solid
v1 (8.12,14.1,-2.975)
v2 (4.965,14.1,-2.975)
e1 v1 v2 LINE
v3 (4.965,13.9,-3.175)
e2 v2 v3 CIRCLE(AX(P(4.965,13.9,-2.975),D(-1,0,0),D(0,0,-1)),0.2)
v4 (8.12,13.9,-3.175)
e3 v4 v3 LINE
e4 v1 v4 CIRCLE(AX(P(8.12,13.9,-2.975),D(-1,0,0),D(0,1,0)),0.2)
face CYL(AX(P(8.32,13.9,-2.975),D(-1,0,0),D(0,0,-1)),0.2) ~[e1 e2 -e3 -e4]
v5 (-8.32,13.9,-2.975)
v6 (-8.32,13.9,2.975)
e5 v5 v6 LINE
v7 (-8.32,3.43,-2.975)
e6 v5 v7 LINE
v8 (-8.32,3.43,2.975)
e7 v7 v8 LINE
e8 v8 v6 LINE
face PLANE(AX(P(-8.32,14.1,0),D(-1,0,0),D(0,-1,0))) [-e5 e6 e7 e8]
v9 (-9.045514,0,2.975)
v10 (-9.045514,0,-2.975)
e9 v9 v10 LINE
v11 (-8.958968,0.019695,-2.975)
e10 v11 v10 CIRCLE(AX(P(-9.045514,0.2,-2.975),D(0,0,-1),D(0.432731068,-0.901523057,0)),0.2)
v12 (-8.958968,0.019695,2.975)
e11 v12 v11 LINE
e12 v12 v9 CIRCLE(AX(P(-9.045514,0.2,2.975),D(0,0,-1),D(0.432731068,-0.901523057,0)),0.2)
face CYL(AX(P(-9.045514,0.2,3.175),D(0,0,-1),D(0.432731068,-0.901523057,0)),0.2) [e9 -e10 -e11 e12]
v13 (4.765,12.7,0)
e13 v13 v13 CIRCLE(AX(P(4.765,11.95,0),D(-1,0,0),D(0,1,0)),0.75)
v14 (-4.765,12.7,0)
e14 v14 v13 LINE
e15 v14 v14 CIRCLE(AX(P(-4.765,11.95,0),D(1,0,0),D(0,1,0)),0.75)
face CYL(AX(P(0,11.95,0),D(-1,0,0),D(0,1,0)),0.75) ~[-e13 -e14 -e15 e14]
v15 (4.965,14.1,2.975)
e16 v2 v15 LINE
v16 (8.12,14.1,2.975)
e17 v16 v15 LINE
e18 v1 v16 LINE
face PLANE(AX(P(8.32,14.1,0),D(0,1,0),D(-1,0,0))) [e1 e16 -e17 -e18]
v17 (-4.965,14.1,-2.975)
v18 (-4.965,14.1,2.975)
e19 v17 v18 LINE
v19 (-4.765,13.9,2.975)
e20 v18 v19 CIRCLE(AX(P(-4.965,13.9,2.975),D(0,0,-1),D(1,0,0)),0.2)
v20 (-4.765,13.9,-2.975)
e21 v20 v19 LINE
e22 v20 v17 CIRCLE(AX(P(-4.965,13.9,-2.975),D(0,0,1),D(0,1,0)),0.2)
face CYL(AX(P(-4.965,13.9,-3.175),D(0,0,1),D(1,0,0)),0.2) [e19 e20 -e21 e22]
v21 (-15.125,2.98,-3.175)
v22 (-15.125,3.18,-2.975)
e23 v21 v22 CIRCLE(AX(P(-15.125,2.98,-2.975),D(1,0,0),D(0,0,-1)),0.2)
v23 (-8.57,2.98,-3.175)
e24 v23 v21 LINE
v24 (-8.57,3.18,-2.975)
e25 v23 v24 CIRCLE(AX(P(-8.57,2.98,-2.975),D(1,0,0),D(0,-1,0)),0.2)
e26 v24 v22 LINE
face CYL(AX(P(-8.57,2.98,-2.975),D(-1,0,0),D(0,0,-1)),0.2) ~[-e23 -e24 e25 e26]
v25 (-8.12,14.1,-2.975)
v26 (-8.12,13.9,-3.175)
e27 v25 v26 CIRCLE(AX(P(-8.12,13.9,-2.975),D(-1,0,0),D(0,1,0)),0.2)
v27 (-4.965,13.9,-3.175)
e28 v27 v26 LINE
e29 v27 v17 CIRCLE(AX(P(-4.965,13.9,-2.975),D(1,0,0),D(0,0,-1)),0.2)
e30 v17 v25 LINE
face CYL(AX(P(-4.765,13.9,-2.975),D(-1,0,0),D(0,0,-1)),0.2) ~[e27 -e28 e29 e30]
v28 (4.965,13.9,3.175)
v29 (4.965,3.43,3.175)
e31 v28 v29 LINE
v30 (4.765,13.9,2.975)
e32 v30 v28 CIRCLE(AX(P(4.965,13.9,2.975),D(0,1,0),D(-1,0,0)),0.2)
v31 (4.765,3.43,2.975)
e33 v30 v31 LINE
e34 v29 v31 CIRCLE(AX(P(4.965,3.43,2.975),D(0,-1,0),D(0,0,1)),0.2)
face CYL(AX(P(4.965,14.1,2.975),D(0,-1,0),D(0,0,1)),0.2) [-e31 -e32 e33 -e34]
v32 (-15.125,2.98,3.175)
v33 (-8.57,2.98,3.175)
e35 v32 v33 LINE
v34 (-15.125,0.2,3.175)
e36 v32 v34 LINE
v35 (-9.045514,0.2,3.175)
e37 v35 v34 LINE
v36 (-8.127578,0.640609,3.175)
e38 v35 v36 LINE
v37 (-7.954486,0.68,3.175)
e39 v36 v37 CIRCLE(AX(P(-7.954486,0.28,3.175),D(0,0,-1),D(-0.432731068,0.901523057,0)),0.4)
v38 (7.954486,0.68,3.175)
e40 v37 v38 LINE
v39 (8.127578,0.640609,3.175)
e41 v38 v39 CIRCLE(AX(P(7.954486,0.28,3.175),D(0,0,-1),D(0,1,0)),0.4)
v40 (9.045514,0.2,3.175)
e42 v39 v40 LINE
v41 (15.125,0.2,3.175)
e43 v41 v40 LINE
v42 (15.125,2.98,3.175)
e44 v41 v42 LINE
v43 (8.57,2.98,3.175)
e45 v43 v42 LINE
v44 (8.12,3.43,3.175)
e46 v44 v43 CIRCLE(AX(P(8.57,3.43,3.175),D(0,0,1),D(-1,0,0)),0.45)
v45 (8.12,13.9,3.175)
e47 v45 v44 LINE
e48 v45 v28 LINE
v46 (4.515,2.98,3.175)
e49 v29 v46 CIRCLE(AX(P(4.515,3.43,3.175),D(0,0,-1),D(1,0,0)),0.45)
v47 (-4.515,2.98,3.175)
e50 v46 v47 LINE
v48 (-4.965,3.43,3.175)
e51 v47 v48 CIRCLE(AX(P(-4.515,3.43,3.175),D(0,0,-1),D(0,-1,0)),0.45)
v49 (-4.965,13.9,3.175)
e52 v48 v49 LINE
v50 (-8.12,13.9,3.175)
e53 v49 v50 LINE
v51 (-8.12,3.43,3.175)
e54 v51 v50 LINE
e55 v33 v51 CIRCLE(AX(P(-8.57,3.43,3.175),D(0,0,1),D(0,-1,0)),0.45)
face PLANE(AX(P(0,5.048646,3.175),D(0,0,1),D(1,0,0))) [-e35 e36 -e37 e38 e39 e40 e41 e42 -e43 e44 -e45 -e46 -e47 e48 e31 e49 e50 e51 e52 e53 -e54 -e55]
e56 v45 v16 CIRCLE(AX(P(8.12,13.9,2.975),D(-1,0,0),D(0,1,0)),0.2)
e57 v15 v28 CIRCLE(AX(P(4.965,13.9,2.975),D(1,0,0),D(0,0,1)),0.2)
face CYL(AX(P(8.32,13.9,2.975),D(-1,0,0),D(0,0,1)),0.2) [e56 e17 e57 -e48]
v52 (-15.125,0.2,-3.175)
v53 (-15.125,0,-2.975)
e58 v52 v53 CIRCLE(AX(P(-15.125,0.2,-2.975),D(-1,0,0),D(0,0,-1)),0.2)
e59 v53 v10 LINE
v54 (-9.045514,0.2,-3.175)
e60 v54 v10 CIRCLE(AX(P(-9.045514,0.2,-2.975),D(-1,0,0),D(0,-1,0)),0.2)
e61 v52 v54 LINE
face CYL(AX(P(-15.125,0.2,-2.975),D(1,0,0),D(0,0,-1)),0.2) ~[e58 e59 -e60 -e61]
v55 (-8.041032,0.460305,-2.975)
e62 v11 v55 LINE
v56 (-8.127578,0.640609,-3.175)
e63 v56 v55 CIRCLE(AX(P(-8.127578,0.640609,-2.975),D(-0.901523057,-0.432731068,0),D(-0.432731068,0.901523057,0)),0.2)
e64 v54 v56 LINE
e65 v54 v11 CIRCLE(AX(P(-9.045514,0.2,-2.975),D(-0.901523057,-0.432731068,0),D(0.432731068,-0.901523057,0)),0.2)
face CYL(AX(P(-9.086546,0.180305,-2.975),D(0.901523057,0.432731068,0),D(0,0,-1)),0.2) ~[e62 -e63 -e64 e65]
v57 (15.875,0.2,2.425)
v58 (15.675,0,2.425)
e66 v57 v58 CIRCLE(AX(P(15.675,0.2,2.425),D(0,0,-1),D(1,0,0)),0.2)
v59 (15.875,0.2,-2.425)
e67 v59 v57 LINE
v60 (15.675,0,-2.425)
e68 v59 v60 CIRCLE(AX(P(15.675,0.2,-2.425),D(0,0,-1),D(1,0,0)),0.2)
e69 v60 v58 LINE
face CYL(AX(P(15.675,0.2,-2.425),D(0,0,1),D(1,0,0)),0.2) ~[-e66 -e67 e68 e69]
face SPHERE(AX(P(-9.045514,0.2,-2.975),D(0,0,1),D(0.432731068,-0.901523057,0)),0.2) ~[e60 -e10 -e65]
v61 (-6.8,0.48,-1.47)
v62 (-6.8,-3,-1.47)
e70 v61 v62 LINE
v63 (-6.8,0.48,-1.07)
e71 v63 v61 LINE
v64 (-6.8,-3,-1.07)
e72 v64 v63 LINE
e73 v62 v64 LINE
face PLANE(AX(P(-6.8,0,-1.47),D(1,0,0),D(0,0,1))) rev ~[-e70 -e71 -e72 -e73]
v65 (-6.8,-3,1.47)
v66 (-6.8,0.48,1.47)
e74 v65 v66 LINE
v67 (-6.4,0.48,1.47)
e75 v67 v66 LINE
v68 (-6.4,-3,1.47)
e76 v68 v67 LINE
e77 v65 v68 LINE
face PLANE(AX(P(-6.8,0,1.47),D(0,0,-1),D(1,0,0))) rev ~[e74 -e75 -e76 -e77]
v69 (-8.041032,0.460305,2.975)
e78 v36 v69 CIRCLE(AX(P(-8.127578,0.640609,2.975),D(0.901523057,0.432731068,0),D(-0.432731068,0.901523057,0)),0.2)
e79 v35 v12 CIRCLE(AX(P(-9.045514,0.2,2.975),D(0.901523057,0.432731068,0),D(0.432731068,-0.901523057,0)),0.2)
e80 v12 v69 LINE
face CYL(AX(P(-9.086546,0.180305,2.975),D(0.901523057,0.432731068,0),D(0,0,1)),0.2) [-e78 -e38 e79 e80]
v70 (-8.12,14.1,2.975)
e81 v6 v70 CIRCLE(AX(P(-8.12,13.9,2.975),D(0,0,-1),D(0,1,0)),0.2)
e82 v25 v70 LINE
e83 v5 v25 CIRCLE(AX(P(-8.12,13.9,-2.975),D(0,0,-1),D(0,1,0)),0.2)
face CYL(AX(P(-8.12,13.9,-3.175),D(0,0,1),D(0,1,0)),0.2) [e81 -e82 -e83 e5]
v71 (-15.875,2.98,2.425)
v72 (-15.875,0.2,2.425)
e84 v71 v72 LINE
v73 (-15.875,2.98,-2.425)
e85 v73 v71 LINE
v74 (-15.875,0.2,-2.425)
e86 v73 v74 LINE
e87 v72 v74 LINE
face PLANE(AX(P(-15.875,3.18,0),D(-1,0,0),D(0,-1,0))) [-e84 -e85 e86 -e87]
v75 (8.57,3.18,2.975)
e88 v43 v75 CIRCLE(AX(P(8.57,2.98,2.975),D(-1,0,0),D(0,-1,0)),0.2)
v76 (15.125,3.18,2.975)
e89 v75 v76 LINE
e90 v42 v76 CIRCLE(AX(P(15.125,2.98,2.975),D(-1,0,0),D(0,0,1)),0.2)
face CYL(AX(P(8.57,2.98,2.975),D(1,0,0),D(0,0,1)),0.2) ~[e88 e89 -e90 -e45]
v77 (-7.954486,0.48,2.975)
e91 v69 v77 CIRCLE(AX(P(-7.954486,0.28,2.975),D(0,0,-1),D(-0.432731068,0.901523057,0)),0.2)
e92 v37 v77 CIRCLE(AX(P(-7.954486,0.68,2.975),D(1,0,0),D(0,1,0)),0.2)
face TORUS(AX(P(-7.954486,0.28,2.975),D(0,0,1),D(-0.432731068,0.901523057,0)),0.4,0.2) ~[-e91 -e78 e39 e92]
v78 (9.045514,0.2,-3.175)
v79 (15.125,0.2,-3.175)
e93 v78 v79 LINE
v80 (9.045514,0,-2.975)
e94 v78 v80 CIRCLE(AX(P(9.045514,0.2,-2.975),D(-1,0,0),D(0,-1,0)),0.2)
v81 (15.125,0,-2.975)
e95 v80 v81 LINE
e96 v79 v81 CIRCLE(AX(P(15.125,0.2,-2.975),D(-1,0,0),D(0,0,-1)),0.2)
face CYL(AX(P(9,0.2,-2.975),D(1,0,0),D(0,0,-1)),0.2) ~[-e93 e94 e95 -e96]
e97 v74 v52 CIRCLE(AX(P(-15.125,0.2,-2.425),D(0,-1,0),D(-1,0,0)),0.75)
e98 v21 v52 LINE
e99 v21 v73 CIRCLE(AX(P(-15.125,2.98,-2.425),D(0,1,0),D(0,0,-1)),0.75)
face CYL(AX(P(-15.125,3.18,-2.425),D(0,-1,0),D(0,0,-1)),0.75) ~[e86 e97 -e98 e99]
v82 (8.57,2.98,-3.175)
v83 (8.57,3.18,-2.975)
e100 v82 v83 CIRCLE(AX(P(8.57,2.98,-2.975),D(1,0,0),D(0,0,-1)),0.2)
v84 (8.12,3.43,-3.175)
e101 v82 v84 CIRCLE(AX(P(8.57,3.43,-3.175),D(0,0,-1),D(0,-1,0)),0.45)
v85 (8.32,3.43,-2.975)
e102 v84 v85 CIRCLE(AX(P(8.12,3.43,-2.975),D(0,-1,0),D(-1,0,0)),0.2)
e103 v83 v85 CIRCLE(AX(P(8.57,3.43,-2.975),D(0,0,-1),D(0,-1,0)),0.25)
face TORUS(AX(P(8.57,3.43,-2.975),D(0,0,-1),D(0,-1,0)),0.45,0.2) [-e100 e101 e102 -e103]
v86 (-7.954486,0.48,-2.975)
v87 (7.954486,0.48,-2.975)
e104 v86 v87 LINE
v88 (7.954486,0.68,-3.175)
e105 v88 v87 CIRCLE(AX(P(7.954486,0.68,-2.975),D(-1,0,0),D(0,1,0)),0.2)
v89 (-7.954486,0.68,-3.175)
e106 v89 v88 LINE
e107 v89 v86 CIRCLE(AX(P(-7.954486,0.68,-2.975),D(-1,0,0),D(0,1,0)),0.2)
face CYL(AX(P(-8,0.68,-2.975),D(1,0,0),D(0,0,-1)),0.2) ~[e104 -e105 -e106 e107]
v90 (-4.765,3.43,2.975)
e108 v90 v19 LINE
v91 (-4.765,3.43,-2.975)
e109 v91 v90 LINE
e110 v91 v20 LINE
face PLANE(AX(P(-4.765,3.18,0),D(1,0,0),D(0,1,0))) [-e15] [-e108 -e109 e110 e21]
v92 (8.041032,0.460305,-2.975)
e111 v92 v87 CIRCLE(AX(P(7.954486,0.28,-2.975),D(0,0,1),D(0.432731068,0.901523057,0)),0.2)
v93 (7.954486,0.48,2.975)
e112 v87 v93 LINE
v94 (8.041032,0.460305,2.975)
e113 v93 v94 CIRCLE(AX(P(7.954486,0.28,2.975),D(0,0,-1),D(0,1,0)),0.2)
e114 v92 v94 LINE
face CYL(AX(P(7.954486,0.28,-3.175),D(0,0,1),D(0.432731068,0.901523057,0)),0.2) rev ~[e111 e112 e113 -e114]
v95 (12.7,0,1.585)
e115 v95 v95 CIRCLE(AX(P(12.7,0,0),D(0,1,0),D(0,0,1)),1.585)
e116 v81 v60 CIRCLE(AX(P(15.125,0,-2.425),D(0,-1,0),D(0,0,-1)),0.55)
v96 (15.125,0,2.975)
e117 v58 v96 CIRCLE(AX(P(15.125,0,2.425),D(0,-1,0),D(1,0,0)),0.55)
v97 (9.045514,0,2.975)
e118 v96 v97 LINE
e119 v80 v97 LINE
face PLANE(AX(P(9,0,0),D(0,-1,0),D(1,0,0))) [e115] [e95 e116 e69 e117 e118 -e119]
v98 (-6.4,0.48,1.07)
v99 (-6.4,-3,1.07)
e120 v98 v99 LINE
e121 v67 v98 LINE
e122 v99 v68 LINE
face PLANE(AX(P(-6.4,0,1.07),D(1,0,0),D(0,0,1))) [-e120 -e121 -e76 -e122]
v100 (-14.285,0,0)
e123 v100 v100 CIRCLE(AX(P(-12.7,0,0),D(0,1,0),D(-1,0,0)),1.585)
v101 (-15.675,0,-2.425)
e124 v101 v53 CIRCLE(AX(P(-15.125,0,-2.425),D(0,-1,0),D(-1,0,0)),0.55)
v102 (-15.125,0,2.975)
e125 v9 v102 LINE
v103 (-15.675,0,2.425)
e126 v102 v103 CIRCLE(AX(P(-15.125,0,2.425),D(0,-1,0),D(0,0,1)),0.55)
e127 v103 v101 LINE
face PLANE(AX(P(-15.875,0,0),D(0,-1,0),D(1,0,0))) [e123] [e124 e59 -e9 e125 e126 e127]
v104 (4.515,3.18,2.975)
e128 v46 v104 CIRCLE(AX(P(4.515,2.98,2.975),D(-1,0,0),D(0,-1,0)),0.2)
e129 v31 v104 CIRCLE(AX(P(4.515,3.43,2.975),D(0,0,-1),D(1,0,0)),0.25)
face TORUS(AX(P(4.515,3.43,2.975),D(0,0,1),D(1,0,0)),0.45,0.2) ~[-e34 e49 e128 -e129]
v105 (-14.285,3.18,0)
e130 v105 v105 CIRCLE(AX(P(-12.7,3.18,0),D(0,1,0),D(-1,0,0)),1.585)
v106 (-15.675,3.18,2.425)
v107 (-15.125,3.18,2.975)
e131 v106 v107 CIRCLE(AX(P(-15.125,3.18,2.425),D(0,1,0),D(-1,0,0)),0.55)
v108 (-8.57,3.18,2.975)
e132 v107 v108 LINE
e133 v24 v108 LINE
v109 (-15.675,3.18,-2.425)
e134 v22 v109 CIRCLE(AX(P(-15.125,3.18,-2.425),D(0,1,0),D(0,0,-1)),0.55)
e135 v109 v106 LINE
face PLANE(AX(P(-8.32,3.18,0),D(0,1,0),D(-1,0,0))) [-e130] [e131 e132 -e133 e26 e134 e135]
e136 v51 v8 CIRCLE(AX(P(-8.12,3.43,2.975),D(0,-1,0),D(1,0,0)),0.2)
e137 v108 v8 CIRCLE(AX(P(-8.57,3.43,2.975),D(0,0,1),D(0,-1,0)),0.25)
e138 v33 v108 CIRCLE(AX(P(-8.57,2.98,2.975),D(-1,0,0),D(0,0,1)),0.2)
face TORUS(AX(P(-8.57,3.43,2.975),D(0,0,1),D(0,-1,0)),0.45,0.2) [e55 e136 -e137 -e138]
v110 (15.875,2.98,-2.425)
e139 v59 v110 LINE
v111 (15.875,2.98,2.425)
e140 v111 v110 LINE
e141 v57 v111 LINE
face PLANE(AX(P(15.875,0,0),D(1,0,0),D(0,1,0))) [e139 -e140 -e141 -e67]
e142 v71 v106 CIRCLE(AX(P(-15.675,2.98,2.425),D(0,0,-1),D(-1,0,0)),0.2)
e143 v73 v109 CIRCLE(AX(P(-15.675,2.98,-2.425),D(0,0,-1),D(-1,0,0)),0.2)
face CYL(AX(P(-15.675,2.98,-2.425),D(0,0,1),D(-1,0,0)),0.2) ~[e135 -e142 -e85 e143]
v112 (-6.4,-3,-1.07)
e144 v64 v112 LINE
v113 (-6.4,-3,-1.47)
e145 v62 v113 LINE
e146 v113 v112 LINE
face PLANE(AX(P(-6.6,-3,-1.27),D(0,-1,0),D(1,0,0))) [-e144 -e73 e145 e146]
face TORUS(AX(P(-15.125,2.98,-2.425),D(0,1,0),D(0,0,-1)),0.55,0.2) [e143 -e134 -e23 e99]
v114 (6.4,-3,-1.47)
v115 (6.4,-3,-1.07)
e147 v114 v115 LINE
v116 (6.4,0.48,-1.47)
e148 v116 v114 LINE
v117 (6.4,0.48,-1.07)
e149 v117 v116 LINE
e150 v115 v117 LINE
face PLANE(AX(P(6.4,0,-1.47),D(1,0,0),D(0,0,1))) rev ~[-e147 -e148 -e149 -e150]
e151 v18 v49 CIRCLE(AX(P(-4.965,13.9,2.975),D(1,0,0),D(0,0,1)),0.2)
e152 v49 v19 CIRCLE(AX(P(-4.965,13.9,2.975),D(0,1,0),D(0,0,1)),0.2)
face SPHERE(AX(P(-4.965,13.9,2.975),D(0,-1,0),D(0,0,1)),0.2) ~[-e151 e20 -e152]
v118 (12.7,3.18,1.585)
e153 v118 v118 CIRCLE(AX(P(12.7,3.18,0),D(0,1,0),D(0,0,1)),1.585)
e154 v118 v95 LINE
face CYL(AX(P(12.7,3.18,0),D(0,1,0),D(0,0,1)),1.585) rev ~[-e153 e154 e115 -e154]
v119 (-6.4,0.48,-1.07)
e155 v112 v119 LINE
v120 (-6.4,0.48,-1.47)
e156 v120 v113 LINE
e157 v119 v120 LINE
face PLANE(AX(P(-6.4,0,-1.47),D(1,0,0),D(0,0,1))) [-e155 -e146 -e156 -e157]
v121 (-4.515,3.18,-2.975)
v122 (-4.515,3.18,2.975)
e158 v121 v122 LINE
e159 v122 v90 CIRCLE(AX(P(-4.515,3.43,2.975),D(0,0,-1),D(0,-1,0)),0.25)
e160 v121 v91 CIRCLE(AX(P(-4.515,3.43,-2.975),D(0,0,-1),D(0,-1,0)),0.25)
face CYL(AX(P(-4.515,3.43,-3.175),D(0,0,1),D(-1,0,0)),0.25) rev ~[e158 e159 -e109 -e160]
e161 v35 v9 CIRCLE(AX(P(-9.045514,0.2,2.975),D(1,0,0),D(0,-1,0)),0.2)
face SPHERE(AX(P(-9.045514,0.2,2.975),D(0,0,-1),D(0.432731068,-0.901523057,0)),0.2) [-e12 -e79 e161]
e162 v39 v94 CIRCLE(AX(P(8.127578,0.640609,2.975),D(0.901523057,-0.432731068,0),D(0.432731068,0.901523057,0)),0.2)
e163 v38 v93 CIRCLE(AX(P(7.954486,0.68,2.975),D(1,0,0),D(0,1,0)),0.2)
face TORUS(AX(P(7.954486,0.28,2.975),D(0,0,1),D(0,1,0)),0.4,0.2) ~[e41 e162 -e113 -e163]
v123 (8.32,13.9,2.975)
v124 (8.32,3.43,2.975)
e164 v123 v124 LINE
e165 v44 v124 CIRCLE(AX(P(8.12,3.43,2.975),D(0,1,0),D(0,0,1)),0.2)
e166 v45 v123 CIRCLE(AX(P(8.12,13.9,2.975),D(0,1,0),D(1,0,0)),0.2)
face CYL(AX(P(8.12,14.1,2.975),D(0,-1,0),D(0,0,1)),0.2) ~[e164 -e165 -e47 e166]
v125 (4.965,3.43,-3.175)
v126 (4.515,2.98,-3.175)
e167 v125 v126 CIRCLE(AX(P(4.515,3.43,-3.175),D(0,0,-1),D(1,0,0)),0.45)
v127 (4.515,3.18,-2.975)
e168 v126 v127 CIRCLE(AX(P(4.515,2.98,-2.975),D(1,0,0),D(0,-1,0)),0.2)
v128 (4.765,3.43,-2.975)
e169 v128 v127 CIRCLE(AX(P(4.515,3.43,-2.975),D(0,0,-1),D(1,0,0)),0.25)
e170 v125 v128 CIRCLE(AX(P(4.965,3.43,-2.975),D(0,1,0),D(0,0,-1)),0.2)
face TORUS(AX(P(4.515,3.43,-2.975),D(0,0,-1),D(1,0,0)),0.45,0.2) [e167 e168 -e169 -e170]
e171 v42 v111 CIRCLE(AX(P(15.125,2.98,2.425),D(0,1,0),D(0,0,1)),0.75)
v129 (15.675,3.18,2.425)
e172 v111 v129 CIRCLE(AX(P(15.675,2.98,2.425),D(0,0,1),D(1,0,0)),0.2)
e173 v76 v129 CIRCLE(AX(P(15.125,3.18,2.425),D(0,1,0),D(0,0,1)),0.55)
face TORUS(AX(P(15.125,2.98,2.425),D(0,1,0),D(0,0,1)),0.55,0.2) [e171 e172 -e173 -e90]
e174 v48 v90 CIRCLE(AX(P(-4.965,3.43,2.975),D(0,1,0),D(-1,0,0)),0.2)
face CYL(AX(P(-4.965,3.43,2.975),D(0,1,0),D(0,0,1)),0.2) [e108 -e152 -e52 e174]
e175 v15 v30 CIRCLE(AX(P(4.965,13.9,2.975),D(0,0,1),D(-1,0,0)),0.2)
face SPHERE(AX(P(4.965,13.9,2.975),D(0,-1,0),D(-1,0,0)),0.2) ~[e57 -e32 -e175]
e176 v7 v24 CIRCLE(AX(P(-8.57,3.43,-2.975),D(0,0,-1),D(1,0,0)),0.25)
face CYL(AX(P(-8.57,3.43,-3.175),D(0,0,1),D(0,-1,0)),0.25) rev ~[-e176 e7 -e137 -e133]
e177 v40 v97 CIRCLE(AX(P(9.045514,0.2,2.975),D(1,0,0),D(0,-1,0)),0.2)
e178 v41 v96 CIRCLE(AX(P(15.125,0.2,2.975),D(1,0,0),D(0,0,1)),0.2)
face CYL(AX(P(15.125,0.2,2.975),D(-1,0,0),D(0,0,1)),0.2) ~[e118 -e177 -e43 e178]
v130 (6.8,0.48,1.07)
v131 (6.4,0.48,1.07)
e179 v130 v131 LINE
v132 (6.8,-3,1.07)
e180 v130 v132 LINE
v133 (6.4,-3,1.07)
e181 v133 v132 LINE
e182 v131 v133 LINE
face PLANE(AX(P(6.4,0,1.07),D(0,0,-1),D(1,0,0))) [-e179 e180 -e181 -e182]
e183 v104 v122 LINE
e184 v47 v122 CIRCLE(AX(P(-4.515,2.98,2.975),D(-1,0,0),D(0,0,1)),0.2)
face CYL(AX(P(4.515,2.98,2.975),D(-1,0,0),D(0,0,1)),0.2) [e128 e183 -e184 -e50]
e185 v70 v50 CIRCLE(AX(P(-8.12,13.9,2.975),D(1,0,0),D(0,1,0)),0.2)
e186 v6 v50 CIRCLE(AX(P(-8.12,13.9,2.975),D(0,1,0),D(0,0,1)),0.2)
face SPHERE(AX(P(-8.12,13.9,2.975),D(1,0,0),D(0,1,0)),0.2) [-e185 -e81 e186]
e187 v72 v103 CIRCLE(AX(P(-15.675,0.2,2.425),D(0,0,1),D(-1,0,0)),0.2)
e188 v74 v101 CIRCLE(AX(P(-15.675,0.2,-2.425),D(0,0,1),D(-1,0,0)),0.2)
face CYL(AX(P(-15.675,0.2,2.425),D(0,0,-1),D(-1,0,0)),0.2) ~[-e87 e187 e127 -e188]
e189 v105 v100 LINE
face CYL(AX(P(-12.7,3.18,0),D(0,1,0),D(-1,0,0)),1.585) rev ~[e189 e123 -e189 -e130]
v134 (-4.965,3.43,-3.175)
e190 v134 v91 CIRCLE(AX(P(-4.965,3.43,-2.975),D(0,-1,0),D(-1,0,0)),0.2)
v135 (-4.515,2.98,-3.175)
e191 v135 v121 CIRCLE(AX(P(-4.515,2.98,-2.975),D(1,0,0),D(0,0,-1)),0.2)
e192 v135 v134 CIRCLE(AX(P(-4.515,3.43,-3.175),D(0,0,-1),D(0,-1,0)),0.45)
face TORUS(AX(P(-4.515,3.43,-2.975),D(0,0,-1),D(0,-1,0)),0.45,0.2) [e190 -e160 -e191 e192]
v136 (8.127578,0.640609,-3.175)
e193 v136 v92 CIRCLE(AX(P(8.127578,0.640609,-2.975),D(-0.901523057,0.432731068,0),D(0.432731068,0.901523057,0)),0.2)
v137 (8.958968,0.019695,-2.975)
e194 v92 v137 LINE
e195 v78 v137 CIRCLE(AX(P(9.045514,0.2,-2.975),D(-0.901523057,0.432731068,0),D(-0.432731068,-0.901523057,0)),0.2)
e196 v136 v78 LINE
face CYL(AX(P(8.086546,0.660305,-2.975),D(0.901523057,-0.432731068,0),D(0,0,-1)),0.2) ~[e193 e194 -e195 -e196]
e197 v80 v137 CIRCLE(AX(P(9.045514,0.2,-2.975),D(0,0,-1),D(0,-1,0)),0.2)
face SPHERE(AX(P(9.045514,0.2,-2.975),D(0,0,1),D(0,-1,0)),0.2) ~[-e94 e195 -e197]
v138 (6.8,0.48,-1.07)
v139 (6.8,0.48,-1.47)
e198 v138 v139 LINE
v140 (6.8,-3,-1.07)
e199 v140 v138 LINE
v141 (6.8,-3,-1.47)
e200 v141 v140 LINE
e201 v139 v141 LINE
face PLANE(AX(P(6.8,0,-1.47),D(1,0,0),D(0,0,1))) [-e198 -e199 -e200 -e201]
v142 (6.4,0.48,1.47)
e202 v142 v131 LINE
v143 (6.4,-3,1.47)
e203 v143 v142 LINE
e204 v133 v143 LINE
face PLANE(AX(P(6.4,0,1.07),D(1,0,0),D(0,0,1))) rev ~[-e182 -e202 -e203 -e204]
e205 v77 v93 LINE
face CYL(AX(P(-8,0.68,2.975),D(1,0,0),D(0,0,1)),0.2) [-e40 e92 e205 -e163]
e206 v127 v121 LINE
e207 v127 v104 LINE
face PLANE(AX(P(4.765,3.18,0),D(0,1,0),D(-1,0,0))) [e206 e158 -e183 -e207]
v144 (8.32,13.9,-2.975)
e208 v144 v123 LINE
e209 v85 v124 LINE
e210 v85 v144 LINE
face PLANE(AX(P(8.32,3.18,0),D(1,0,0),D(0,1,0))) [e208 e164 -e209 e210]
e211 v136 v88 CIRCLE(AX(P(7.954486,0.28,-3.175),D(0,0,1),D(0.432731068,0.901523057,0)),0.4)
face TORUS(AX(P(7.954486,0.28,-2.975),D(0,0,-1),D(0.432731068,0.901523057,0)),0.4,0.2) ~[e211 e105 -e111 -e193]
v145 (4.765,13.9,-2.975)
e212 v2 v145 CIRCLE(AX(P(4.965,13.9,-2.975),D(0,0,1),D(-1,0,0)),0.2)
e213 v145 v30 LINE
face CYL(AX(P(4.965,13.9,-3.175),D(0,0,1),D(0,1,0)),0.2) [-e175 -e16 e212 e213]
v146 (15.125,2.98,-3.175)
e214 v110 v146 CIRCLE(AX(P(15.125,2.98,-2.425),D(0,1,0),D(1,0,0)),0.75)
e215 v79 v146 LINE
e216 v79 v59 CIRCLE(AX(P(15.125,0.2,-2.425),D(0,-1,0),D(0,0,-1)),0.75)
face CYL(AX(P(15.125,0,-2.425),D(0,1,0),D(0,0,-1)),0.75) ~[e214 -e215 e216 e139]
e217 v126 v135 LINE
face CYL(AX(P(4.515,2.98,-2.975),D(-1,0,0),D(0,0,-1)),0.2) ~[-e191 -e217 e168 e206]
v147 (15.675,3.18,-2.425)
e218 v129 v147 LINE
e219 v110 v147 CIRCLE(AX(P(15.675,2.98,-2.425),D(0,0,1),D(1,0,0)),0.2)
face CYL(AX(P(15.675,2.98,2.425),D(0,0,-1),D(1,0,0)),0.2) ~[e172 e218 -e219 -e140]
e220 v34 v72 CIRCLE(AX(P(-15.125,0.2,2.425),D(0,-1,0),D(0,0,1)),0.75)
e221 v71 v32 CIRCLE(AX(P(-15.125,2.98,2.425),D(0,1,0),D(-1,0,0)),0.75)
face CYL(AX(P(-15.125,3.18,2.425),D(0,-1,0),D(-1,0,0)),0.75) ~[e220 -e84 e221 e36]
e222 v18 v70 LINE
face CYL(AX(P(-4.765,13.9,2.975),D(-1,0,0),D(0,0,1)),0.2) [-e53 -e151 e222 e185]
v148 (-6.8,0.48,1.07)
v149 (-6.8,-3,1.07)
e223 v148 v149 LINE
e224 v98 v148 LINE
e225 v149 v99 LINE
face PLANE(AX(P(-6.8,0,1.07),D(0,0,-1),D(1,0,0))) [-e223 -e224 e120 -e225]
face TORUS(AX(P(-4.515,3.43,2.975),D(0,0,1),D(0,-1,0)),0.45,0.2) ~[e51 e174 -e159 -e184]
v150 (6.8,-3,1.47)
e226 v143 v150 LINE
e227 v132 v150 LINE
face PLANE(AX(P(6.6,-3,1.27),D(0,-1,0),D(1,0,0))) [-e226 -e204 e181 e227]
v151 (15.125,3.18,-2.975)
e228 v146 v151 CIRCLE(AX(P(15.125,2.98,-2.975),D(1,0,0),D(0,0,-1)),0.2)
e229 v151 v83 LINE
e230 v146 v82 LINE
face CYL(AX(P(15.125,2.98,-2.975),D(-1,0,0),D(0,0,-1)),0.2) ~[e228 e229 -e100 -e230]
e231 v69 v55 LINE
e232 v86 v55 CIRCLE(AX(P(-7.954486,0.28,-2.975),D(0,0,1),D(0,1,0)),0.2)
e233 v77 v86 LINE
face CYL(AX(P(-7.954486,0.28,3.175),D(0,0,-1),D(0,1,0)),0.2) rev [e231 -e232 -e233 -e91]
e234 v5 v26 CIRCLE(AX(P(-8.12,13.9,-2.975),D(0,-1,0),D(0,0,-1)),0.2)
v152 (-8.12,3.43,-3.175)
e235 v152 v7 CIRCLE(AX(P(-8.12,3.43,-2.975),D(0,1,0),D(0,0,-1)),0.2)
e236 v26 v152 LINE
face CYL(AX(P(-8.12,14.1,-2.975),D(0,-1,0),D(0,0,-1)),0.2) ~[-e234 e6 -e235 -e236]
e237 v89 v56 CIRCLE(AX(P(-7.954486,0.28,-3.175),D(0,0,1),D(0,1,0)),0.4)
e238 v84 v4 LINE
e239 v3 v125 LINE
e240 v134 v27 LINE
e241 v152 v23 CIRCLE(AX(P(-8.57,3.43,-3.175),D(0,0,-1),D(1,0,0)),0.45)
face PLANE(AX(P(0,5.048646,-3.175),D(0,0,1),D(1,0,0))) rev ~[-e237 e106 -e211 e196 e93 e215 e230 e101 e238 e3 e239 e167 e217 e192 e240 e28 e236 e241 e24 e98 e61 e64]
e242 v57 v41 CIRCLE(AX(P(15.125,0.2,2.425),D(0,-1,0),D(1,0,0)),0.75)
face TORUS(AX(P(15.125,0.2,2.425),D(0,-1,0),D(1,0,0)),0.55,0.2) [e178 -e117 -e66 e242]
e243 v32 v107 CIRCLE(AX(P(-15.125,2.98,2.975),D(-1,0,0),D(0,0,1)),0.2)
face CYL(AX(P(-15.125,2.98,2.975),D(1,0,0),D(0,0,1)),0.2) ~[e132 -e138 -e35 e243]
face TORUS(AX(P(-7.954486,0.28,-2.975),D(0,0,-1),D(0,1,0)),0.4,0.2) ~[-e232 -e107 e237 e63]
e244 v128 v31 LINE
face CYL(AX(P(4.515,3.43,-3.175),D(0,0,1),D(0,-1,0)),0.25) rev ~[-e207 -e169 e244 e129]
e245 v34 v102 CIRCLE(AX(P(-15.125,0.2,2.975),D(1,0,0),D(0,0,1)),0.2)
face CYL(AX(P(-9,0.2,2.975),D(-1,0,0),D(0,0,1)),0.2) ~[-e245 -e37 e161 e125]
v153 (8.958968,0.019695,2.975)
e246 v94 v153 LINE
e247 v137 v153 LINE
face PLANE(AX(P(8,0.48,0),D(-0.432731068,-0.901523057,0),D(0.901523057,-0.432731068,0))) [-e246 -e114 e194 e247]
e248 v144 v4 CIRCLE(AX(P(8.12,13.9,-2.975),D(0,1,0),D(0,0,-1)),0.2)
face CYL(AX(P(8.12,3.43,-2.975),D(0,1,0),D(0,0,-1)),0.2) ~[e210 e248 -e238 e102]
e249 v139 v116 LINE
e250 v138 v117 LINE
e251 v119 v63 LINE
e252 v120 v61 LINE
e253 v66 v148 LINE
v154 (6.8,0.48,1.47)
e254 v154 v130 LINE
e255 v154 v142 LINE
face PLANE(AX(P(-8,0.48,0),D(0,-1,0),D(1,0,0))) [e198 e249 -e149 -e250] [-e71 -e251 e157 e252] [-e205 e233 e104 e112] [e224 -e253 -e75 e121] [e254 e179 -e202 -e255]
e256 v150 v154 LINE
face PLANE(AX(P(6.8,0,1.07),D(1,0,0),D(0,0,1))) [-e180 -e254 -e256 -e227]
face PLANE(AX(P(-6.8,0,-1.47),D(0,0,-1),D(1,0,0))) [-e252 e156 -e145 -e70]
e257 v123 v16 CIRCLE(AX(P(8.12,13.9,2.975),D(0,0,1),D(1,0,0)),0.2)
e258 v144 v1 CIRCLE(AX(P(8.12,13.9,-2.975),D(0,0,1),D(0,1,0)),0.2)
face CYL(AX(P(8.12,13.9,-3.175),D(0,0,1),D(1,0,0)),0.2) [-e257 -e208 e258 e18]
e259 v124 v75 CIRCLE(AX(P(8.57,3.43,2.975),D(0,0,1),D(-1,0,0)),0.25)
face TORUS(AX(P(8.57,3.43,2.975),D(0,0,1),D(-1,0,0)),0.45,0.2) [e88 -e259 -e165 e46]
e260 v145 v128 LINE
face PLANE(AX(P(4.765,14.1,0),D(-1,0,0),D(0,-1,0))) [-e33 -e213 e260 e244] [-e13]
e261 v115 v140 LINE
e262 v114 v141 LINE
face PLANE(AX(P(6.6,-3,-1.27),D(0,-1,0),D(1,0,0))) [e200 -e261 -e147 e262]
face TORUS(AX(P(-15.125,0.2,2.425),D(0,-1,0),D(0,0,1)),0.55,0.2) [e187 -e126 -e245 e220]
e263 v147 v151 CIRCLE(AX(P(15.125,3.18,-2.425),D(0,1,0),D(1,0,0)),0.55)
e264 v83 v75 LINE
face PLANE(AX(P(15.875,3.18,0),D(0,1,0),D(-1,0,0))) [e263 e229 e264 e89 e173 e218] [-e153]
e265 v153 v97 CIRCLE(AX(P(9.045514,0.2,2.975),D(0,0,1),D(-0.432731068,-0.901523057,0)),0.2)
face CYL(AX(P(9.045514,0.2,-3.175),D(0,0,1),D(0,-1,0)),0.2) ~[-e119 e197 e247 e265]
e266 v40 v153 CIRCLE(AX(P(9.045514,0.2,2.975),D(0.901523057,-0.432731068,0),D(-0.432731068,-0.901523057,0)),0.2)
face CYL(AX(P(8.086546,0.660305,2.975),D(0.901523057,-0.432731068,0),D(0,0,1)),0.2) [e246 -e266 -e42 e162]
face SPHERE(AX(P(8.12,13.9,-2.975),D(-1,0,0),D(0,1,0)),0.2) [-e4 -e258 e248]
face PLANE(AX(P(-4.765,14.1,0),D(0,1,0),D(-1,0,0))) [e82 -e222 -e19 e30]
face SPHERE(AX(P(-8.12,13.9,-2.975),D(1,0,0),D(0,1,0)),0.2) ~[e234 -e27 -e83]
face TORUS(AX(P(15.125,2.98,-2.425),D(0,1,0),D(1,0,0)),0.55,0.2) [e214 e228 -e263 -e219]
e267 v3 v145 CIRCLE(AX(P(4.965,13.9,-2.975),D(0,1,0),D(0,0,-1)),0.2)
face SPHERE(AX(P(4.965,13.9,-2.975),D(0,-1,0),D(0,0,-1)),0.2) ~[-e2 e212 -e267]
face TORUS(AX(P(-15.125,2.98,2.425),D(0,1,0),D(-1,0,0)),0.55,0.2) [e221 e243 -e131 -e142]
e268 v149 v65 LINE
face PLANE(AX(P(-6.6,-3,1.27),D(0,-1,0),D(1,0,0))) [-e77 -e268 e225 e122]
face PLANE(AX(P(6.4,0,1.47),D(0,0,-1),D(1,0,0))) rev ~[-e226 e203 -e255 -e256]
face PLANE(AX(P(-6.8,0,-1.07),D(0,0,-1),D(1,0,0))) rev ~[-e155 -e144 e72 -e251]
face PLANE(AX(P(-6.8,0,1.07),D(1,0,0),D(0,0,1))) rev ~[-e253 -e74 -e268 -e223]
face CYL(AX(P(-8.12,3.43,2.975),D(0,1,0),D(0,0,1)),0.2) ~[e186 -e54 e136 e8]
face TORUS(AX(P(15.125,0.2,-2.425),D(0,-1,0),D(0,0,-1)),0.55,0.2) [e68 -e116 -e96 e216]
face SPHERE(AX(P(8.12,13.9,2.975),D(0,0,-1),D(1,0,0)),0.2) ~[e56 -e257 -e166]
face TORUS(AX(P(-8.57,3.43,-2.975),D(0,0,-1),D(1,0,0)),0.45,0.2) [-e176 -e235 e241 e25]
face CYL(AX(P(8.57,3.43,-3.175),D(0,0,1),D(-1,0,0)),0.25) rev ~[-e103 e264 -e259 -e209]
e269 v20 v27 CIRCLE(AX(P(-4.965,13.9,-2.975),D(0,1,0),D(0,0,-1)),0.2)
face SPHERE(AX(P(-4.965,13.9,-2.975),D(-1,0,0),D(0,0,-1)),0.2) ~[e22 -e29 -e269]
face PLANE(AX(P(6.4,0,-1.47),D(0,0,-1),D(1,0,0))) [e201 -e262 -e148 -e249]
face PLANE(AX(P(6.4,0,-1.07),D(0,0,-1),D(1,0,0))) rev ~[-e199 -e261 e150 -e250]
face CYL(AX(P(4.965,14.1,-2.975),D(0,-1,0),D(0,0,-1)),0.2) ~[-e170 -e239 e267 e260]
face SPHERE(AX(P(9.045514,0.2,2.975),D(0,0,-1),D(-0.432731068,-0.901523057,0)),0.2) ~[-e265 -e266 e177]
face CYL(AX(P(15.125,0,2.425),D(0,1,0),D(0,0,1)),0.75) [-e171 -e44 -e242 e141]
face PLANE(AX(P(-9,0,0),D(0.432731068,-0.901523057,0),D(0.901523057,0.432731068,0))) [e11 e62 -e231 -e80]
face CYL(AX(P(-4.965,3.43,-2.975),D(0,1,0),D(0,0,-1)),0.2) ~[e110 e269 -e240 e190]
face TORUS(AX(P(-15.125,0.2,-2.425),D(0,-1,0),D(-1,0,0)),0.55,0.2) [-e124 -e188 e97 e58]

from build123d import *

# Parameters (mm, degrees)
SALIENTE_EXTRUIR1_DEPTH             = 3.175
REDONDEO1_R                         = 0.25
REDONDEO2_R                         = 0.75
REDONDEO3_R                         = 0.2
SALIENTE_EXTRUIR2_REACH             = 23.469
CROQUIS2_R                          = 0.75
SALIENTE_EXTRUIR2_DIRECTION_2_REACH = 23.469
CROQUIS3_W                          = 0.4
CROQUIS3_H                          = 0.4
SALIENTE_EXTRUIR3_DEPTH             = 3
SALIENTE_EXTRUIR3_DIRECTION_2_REACH = 23.469
CROQUIS4_R                          = 1.585
CORTAR_EXTRUIR1_DEPTH               = 20.527996667


with BuildPart() as part:
    # Croquis1 → Saliente-Extruir1 (new, symmetric)
    with BuildSketch(Plane.XY):
        Polygon((-8, 0.48), (8, 0.48), (9, 0), (15.875, 0), (15.875, 3.18), (8.32, 3.18), (8.32, 14.1), (4.765, 14.1), (4.765, 3.18), (-4.765, 3.18), (-4.765, 14.1), (-8.32, 14.1), (-8.32, 3.18), (-15.875, 3.18), (-15.875, 0), (-9, 0), align=None)
    extrude(amount=SALIENTE_EXTRUIR1_DEPTH, both=True)

    # Redondeo1
    redondeo1_edges = [part.edges().sort_by_distance(p)[0] for p in [
        (8.32, 3.18, 0),
        (-8.32, 3.18, 0),
        (-4.765, 3.18, 0),
        (4.765, 3.18, 0),
    ]]
    fillet(redondeo1_edges, radius=REDONDEO1_R)

    # Redondeo2
    redondeo2_edges = [part.edges().sort_by_distance(p)[0] for p in [
        (15.875, 1.59, -3.175),
        (-15.875, 1.59, -3.175),
        (-15.875, 1.59, 3.175),
        (15.875, 1.59, 3.175),
    ]]
    fillet(redondeo2_edges, radius=REDONDEO2_R)

    # Redondeo3
    redondeo3_edges = [part.edges().sort_by_distance(p)[0] for p in [
        (4.765, 8.765, 3.175),
        (12.0625, 0, -3.175),
        (8.5, 0.24, -3.175),
        (0, 0.48, -3.175),
        (-8.5, 0.24, -3.175),
        (-12.0625, 0, -3.175),
        (-6.5425, 14.1, -3.175),
        (-4.765, 8.765, -3.175),
        (-4.765, 8.765, 3.175),
        (4.765, 8.765, -3.175),
        (6.5425, 14.1, -3.175),
        (-6.5425, 14.1, 3.175),
        (9, 0, 0),
        (8, 0.48, 0),
        (-8, 0.48, 0),
        (-9, 0, 0),
        (-8.32, 14.1, 0),
        (-4.765, 14.1, 0),
        (4.765, 14.1, 0),
        (8.32, 14.1, 0),
        (-12.0625, 0, 3.175),
        (-8.5, 0.24, 3.175),
        (8.32, 8.765, -3.175),
        (8.32, 8.765, 3.175),
        (0, 3.18, -3.175),
        (0, 3.18, 3.175),
        (0, 0.48, 3.175),
        (8.5, 0.24, 3.175),
        (-8.32, 8.765, -3.175),
        (-8.32, 8.765, 3.175),
        (8.393223305, 3.253223305, -3.175),
        (8.393223305, 3.253223305, 3.175),
        (4.691776695, 3.253223305, -3.175),
        (4.691776695, 3.253223305, 3.175),
        (-4.691776695, 3.253223305, -3.175),
        (-4.691776695, 3.253223305, 3.175),
        (-8.393223305, 3.253223305, -3.175),
        (-8.393223305, 3.253223305, 3.175),
        (12.0625, 0, 3.175),
        (11.8475, 3.18, -3.175),
        (-11.8475, 3.18, -3.175),
        (-11.8475, 3.18, 3.175),
        (-15.875, 3.18, 0),
        (-15.655330086, 3.18, 2.955330086),
        (-15.655330086, 3.18, -2.955330086),
        (-15.875, 0, 0),
        (-15.655330086, 0, 2.955330086),
        (-15.655330086, 0, -2.955330086),
        (15.875, 3.18, 0),
        (15.875, 0, 0),
        (11.8475, 3.18, 3.175),
        (15.655330086, 3.18, 2.955330086),
        (15.655330086, 3.18, -2.955330086),
        (15.655330086, 0, 2.955330086),
        (15.655330086, 0, -2.955330086),
        (6.5425, 14.1, 3.175),
    ]]
    fillet(redondeo3_edges, radius=REDONDEO3_R)

    # Croquis2 → Saliente-Extruir2 (add, up to next)
    with BuildSketch(Plane(origin=(0, 0, 0), x_dir=(0, 0, -1), z_dir=(1, 0, 0)), mode=Mode.PRIVATE) as saliente_extruir2_sk1:
        with Locations(Location((0, 11.95, 0), (0, 0, 90))):
            Circle(CROQUIS2_R)
    saliente_extruir2_tool1 = extrude(saliente_extruir2_sk1.sketch, amount=SALIENTE_EXTRUIR2_REACH, mode=Mode.PRIVATE) - part.part
    add(saliente_extruir2_tool1.solids().sort_by_distance((0, 11.95, 0))[0])

    # Croquis2 → Saliente-Extruir2 direction 2 (add, up to next)
    with BuildSketch(Plane(origin=(0, 0, 0), x_dir=(0, 0, -1), z_dir=(1, 0, 0)), mode=Mode.PRIVATE) as saliente_extruir2_direction_2_sk1:
        with Locations(Location((0, 11.95, 0), (0, 0, 90))):
            Circle(CROQUIS2_R)
    saliente_extruir2_direction_2_tool1 = extrude(saliente_extruir2_direction_2_sk1.sketch, amount=-SALIENTE_EXTRUIR2_DIRECTION_2_REACH, mode=Mode.PRIVATE) - part.part
    add(saliente_extruir2_direction_2_tool1.solids().sort_by_distance((0, 11.95, 0))[0])

    # Croquis3 → Saliente-Extruir3 (add)
    with BuildSketch(Plane.XZ):
        with Locations((-6.6, 1.27)):
            Rectangle(CROQUIS3_W, CROQUIS3_H)
        with Locations((6.6, 1.27)):
            Rectangle(CROQUIS3_W, CROQUIS3_H)
        with Locations((6.6, -1.27)):
            Rectangle(CROQUIS3_W, CROQUIS3_H)
        with Locations((-6.6, -1.27)):
            Rectangle(CROQUIS3_W, CROQUIS3_H)
    extrude(amount=SALIENTE_EXTRUIR3_DEPTH)

    # Croquis3 → Saliente-Extruir3 direction 2 (add, up to next)
    with BuildSketch(Plane.XZ, mode=Mode.PRIVATE) as saliente_extruir3_direction_2_sk1:
        with Locations((-6.6, 1.27)):
            Rectangle(CROQUIS3_W, CROQUIS3_H)
    saliente_extruir3_direction_2_tool1 = extrude(saliente_extruir3_direction_2_sk1.sketch, amount=-SALIENTE_EXTRUIR3_DIRECTION_2_REACH, mode=Mode.PRIVATE) - part.part
    # Croquis3 → Saliente-Extruir3 direction 2 (add, up to next)
    with BuildSketch(Plane.XZ, mode=Mode.PRIVATE) as saliente_extruir3_direction_2_sk2:
        with Locations((6.6, 1.27)):
            Rectangle(CROQUIS3_W, CROQUIS3_H)
    saliente_extruir3_direction_2_tool2 = extrude(saliente_extruir3_direction_2_sk2.sketch, amount=-SALIENTE_EXTRUIR3_DIRECTION_2_REACH, mode=Mode.PRIVATE) - part.part
    # Croquis3 → Saliente-Extruir3 direction 2 (add, up to next)
    with BuildSketch(Plane.XZ, mode=Mode.PRIVATE) as saliente_extruir3_direction_2_sk3:
        with Locations((6.6, -1.27)):
            Rectangle(CROQUIS3_W, CROQUIS3_H)
    saliente_extruir3_direction_2_tool3 = extrude(saliente_extruir3_direction_2_sk3.sketch, amount=-SALIENTE_EXTRUIR3_DIRECTION_2_REACH, mode=Mode.PRIVATE) - part.part
    # Croquis3 → Saliente-Extruir3 direction 2 (add, up to next)
    with BuildSketch(Plane.XZ, mode=Mode.PRIVATE) as saliente_extruir3_direction_2_sk4:
        with Locations((-6.6, -1.27)):
            Rectangle(CROQUIS3_W, CROQUIS3_H)
    saliente_extruir3_direction_2_tool4 = extrude(saliente_extruir3_direction_2_sk4.sketch, amount=-SALIENTE_EXTRUIR3_DIRECTION_2_REACH, mode=Mode.PRIVATE) - part.part
    add(saliente_extruir3_direction_2_tool1.solids().sort_by_distance((-6.6, 0, 1.27))[0])
    add(saliente_extruir3_direction_2_tool2.solids().sort_by_distance((6.6, 0, 1.27))[0])
    add(saliente_extruir3_direction_2_tool3.solids().sort_by_distance((6.6, 0, -1.27))[0])
    add(saliente_extruir3_direction_2_tool4.solids().sort_by_distance((-6.6, 0, -1.27))[0])

    # Croquis4 → Cortar-Extruir1 (cut, through all)
    with BuildSketch(Plane(origin=(0, 3.18, 0), x_dir=(1, 0, 0), z_dir=(0, 1, 0))):
        with Locations(Location((-12.7, 0, 0), (0, 0, 180))):
            Circle(CROQUIS4_R)
        with Locations(Location((12.7, 0, 0), (0, 0, 270))):
            Circle(CROQUIS4_R)
    extrude(amount=-CORTAR_EXTRUIR1_DEPTH, mode=Mode.SUBTRACT)


solid = part.part
